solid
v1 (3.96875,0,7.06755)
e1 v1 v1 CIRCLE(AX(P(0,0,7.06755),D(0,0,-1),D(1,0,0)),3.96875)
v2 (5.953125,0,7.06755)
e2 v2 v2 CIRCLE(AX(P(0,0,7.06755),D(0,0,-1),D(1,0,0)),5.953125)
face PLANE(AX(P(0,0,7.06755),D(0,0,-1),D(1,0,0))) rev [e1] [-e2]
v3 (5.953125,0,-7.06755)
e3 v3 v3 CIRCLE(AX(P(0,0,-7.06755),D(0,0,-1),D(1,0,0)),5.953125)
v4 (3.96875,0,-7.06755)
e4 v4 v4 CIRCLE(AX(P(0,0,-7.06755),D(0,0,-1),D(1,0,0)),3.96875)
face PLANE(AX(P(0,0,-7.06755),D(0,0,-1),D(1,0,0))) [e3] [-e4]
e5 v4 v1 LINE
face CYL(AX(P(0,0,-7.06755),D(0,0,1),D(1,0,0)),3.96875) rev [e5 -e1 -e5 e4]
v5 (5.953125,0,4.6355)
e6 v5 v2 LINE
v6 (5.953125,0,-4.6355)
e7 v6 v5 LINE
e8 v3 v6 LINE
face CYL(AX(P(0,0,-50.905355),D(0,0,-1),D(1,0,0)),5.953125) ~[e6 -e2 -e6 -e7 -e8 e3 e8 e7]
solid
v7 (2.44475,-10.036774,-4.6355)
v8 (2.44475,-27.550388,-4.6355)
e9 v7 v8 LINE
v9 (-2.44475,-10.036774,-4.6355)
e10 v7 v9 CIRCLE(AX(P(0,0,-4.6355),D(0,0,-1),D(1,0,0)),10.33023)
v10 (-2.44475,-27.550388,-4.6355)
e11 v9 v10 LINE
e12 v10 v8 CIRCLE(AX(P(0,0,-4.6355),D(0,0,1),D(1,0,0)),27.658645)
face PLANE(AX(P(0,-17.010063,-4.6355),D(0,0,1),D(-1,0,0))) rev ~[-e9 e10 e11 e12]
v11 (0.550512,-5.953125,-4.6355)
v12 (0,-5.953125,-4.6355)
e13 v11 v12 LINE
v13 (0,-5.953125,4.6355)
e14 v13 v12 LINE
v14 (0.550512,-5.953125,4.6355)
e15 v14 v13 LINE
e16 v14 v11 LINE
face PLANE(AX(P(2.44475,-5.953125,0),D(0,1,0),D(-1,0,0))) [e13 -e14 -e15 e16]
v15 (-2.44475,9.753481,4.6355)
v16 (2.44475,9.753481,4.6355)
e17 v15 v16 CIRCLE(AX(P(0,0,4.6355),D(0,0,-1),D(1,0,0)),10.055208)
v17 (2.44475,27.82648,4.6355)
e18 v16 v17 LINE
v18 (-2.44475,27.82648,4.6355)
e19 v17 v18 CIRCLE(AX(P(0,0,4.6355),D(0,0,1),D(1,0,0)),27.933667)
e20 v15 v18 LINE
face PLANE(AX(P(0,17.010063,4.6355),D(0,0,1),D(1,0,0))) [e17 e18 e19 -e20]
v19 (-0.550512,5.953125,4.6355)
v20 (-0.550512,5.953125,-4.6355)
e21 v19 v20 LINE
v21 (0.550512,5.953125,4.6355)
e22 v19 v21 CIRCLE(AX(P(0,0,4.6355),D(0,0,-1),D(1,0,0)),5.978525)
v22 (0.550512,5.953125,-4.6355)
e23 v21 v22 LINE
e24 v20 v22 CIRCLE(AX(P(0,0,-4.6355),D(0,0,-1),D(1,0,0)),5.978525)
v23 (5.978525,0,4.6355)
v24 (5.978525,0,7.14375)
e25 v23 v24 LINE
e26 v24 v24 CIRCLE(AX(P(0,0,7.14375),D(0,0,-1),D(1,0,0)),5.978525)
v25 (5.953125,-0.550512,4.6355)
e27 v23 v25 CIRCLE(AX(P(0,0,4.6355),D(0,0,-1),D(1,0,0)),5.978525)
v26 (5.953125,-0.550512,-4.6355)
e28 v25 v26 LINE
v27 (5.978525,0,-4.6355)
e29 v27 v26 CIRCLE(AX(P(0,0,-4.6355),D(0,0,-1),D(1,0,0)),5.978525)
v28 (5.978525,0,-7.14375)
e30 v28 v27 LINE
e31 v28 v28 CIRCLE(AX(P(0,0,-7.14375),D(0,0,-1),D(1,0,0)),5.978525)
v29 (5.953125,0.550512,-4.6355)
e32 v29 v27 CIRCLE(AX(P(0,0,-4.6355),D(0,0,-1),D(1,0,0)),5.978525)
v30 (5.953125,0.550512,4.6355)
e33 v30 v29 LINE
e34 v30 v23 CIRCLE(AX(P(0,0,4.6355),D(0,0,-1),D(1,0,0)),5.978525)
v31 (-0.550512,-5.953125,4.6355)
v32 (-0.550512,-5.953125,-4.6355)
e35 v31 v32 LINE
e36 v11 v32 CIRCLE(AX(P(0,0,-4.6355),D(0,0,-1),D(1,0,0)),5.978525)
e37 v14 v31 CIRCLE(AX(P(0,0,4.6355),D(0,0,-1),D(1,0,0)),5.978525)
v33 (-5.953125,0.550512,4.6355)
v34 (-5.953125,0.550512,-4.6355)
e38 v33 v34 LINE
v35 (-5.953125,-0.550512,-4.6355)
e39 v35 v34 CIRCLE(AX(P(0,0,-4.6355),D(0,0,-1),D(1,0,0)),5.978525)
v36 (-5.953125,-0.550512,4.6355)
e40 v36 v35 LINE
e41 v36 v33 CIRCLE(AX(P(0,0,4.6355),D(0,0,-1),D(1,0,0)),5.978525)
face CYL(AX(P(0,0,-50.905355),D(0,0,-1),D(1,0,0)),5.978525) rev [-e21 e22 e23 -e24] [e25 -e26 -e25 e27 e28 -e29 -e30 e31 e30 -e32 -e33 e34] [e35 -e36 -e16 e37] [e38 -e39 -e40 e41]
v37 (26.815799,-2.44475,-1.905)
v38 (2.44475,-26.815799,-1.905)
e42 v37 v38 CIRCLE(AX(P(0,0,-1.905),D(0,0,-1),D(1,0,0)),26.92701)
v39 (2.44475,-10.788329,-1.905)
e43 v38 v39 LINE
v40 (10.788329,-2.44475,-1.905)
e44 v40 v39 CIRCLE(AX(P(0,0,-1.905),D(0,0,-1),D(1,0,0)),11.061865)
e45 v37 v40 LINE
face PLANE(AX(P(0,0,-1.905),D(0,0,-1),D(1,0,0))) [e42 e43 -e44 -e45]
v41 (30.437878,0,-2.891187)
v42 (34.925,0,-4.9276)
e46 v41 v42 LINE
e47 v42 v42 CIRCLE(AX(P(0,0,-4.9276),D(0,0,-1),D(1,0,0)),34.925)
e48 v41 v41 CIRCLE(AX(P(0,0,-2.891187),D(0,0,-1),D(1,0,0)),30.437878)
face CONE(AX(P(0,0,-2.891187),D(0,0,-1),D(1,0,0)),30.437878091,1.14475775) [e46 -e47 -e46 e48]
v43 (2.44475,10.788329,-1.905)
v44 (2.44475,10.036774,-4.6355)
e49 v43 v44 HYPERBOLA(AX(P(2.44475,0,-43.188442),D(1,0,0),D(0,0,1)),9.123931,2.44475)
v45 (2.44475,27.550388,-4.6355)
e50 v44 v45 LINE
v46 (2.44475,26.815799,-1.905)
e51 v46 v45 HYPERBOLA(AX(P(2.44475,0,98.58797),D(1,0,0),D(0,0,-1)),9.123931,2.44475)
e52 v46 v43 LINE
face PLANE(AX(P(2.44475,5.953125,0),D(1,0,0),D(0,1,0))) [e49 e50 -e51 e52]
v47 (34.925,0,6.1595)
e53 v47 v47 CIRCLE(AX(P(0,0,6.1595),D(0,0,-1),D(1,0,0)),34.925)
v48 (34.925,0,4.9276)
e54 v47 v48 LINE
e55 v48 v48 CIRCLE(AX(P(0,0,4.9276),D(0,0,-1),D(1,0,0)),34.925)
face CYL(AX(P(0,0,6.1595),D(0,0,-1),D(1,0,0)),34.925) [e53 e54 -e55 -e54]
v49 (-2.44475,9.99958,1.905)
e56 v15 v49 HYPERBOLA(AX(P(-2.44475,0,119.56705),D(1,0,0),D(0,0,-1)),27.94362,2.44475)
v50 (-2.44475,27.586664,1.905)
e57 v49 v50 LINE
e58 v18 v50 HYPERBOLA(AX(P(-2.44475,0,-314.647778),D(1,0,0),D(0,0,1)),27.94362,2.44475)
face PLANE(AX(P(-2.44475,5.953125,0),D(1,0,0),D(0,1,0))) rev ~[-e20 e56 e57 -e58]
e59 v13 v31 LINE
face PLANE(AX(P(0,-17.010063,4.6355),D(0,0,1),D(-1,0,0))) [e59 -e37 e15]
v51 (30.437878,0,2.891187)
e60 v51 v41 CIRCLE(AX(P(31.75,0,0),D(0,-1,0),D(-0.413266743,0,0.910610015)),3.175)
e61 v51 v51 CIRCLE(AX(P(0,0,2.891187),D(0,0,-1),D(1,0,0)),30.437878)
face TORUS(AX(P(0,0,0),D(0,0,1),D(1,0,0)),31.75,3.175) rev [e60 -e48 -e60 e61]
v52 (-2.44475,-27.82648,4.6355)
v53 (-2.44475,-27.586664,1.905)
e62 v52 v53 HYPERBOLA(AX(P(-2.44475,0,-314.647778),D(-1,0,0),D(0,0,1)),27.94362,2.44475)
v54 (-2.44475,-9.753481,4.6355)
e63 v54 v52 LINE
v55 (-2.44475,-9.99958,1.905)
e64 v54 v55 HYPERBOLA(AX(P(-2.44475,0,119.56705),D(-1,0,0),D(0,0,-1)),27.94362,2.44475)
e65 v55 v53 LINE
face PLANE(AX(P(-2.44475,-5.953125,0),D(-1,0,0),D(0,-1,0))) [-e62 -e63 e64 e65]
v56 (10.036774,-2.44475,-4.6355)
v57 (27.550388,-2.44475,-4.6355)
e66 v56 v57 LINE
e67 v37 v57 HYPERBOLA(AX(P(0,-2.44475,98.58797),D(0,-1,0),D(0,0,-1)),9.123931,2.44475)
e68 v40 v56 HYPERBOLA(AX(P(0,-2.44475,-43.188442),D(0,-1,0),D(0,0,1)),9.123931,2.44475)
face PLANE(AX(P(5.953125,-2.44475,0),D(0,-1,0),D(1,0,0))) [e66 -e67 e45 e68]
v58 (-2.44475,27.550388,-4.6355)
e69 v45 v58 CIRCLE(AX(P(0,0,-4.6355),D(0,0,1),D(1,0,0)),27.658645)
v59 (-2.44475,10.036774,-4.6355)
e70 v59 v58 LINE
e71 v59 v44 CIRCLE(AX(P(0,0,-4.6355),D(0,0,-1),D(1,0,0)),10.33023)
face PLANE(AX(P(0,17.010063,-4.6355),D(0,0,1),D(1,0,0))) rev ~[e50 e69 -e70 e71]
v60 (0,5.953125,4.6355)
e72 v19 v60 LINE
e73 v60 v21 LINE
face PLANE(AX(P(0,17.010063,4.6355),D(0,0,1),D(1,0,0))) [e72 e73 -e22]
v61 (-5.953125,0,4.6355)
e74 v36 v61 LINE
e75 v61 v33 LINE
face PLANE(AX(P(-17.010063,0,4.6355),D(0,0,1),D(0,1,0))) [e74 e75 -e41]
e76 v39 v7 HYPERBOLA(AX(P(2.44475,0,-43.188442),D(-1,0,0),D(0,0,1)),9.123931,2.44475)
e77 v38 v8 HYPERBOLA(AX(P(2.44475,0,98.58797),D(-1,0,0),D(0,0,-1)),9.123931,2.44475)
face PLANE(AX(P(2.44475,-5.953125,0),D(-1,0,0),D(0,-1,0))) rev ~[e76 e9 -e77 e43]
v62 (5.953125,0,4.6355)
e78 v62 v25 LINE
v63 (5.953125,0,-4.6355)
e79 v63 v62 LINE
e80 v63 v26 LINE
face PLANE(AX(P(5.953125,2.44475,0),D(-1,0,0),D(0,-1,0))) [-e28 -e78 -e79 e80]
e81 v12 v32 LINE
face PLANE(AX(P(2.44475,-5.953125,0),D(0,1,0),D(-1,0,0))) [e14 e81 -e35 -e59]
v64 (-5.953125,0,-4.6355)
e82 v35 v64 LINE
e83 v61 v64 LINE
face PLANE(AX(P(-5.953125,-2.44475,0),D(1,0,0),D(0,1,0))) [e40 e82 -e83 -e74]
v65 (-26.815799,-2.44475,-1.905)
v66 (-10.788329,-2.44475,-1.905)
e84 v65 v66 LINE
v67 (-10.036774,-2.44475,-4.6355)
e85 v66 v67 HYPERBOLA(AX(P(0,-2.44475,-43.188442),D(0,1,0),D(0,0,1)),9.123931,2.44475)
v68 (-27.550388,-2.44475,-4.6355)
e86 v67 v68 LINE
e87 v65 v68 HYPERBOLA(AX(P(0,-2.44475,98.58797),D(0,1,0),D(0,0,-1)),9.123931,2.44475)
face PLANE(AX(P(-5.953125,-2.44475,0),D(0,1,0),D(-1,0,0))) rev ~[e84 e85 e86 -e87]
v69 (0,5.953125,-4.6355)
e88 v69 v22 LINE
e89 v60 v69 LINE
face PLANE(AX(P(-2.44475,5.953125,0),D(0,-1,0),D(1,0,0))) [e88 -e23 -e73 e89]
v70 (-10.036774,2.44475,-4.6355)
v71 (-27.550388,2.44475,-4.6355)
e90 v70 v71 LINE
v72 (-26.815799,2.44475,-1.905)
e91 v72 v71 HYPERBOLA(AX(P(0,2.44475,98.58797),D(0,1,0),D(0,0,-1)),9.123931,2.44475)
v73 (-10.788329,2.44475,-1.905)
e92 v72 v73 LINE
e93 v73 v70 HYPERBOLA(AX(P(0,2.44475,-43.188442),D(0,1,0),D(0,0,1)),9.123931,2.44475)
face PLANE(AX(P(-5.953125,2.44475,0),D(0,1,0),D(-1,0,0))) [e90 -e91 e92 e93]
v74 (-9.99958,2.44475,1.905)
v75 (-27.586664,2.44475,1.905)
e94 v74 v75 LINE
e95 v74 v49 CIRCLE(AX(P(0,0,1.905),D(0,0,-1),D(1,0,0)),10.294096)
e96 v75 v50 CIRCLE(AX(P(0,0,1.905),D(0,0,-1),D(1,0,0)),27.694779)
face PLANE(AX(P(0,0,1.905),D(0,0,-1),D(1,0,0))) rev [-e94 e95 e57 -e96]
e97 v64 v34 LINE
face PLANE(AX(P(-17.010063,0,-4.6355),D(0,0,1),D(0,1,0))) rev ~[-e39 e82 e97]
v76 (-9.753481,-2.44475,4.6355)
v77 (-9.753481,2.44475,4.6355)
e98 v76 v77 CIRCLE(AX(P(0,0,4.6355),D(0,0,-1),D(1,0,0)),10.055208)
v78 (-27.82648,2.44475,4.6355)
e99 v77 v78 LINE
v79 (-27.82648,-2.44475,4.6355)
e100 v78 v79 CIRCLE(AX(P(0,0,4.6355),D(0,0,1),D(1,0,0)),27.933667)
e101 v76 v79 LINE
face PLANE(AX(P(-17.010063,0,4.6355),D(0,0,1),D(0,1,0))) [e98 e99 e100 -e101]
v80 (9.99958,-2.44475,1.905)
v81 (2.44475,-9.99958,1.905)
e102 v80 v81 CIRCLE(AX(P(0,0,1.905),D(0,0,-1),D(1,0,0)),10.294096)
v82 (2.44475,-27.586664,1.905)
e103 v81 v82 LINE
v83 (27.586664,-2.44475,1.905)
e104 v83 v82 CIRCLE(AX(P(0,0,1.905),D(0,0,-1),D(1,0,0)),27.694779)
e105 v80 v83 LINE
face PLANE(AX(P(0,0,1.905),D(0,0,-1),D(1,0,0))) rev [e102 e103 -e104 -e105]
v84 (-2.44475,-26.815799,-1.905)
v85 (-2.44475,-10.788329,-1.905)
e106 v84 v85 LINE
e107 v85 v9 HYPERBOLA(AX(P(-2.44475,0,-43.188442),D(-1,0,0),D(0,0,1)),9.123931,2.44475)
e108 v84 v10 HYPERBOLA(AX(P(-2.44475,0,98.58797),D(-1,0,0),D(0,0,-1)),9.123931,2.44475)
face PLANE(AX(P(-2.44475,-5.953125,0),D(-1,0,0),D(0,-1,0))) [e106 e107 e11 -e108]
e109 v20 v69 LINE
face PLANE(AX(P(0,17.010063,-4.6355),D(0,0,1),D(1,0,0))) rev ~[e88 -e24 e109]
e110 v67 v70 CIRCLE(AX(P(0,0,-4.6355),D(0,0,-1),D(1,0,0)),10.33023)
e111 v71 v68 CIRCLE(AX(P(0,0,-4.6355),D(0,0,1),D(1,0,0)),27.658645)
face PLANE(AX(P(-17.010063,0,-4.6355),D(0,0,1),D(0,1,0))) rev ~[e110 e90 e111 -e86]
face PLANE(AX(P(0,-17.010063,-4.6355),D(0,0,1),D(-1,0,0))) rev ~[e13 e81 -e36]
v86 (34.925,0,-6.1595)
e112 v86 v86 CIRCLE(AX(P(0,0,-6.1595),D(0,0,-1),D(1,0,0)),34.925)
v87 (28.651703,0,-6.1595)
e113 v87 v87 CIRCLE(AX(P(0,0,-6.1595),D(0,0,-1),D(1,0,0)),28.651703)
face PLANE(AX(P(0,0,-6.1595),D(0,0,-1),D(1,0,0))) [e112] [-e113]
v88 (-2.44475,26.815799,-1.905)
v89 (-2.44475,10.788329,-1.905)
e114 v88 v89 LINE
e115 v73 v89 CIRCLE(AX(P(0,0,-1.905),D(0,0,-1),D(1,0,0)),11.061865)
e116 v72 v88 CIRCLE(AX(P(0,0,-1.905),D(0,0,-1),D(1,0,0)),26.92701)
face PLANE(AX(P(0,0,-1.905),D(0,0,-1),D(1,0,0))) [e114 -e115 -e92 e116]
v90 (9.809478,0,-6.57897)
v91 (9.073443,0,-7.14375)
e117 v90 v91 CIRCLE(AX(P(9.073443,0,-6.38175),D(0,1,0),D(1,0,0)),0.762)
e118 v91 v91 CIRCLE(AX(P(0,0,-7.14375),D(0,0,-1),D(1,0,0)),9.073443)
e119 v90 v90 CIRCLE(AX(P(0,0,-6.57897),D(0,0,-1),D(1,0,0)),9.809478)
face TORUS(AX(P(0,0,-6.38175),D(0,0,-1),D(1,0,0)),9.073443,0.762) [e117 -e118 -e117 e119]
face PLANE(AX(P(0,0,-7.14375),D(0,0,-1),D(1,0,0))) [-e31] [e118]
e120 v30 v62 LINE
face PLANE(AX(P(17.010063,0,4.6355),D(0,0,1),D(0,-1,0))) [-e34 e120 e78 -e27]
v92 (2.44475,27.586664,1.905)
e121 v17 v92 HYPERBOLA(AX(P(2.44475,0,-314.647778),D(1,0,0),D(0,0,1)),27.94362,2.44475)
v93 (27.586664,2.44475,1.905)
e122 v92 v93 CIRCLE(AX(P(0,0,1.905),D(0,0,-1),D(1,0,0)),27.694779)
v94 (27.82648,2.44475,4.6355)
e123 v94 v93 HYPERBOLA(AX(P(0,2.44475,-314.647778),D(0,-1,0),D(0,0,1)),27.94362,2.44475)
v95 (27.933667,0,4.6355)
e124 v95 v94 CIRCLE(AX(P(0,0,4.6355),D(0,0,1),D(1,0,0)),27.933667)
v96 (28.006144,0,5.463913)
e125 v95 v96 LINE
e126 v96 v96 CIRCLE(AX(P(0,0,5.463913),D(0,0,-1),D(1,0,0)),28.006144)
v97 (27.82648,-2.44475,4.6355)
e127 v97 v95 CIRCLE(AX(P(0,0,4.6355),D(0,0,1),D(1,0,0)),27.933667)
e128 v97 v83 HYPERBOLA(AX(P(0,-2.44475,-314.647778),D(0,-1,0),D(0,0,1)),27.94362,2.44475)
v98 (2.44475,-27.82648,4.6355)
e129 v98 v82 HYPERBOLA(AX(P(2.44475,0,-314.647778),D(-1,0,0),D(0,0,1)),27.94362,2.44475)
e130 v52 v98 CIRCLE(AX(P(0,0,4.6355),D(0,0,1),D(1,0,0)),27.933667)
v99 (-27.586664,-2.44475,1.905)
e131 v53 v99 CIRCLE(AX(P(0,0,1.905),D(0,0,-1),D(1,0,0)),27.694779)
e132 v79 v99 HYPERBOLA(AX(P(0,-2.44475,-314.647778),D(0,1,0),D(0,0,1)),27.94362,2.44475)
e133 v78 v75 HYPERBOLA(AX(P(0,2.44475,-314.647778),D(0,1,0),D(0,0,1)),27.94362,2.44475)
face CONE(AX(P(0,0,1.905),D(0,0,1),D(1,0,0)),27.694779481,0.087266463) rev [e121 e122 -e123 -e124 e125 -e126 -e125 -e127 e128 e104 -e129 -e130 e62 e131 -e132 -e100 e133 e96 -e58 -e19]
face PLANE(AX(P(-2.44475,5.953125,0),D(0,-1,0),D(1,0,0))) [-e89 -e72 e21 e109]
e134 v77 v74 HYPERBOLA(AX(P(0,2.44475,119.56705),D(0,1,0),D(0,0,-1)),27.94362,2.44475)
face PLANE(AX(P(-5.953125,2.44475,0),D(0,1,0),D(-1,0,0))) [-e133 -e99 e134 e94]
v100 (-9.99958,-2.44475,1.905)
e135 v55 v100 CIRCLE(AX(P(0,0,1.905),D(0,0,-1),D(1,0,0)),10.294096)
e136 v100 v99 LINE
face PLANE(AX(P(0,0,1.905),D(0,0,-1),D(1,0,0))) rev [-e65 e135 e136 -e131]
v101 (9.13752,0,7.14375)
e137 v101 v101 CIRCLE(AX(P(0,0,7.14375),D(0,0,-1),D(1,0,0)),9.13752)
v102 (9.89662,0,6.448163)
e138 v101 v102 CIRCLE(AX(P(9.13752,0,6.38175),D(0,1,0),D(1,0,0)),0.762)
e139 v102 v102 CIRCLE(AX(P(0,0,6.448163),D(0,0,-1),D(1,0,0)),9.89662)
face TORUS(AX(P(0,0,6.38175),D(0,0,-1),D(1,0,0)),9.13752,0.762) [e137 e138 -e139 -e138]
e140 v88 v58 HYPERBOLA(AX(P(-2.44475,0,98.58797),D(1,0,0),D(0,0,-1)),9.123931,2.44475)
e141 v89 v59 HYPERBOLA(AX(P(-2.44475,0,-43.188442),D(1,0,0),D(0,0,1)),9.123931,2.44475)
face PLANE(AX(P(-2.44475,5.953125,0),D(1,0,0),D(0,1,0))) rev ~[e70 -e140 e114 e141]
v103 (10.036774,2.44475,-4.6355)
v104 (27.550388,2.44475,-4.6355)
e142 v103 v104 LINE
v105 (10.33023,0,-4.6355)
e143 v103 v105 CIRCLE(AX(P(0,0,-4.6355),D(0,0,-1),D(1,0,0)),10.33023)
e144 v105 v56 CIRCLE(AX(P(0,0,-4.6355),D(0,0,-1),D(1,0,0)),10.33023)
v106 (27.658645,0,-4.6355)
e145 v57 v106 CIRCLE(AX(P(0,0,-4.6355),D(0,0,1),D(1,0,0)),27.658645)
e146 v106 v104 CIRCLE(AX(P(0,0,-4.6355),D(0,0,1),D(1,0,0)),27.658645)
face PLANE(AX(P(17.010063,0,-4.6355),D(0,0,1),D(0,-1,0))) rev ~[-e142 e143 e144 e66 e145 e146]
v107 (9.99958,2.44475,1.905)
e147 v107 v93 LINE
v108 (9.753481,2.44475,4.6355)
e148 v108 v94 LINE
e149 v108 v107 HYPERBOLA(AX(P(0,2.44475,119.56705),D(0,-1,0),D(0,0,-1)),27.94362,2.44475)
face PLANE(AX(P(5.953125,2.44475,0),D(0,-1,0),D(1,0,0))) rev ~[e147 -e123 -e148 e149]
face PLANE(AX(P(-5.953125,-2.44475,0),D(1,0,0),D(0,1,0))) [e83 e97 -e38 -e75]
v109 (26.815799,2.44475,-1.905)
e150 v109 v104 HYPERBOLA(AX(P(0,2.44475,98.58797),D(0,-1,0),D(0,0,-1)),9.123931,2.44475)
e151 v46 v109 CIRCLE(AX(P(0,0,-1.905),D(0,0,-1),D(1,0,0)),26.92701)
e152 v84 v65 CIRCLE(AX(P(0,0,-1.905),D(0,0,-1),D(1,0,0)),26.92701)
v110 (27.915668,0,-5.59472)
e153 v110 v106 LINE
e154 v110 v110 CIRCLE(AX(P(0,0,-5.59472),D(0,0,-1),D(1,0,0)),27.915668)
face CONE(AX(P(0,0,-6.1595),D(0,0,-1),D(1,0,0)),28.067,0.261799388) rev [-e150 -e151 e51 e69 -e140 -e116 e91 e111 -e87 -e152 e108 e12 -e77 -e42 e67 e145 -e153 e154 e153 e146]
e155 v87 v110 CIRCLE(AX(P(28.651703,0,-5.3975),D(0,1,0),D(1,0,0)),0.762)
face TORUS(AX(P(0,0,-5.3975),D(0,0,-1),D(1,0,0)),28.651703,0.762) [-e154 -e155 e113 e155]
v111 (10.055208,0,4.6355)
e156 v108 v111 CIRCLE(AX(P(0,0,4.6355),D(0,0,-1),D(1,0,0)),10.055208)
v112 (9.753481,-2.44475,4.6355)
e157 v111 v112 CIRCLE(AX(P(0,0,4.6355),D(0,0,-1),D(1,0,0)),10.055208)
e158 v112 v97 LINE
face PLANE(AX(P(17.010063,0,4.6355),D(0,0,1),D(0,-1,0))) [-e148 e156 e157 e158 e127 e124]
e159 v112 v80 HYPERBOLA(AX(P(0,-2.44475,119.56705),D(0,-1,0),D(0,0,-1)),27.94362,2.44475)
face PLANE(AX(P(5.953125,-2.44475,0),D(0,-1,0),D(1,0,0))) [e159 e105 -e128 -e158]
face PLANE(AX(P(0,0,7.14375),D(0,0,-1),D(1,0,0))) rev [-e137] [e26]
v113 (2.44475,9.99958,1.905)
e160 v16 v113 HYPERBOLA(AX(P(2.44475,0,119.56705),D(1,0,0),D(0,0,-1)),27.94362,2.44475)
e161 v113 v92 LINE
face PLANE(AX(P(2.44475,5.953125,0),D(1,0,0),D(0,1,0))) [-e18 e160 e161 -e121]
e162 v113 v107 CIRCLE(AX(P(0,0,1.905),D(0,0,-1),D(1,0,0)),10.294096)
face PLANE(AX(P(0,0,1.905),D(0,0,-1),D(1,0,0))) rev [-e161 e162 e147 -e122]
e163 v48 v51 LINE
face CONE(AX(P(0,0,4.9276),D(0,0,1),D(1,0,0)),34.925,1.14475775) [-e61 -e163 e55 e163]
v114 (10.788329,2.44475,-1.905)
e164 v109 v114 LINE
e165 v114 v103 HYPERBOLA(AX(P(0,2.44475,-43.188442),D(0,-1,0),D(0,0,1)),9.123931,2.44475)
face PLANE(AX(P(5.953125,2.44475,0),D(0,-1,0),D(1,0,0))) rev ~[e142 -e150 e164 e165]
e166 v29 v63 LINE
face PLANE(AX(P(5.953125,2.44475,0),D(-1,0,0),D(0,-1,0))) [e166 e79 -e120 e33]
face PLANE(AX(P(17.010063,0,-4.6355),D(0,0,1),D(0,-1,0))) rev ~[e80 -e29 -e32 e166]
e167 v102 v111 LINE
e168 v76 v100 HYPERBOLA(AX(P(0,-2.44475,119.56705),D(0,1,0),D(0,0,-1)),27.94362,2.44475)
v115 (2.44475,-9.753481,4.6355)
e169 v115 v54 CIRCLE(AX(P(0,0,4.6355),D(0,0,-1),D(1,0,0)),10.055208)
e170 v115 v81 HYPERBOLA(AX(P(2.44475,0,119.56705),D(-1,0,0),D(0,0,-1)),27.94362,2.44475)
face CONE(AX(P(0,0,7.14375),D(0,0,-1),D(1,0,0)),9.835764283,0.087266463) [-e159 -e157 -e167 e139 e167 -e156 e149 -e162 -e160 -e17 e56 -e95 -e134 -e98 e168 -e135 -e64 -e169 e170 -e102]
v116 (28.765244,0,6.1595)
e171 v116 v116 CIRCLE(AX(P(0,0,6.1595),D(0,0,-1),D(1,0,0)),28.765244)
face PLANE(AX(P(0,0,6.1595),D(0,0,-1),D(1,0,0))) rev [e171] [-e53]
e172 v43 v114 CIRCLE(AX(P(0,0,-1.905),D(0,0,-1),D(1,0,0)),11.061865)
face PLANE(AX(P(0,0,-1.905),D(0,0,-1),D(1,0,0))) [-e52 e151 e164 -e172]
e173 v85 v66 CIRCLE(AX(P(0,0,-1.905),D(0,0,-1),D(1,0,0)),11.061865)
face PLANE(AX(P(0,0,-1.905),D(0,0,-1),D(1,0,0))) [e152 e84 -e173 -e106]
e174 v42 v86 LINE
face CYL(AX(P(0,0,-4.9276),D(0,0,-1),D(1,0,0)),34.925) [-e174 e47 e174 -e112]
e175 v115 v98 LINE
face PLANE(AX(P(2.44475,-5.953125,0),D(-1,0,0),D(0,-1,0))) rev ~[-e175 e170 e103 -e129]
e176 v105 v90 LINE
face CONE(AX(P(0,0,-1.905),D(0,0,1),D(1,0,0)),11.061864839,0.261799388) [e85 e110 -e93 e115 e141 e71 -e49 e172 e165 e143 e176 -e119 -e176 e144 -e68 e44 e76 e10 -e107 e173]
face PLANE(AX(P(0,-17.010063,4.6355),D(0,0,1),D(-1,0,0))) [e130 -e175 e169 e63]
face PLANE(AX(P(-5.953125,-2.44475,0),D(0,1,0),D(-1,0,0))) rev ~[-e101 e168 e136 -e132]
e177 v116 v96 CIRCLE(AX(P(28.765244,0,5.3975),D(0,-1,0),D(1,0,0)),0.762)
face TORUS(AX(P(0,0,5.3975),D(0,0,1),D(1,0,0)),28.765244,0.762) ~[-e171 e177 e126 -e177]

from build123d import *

# Parameters (mm, degrees)
CUT_EXTRUDE_THIN1_DEPTH      = 50.905354563
CUT_EXTRUDE_THIN1_DEPTH_BACK = 50.905354563
SKETCH2_R                    = 5.978525
SKETCH2_R_2                  = 5.953125
DRAFT1_ANGLE                 = 5
DRAFT2_ANGLE                 = 15
FILLET1_R                    = 0.762
SKETCH4_W                    = 4.8895
SKETCH4_H                    = 22.113875
EXTRUDE_THIN1_DEPTH          = 4.6355
CIRPATTERN1_COUNT            = 4


with BuildPart() as part:
    # Sketch1 → Revolve1 (revolve)
    with BuildSketch(Plane(origin=(0, 0, 0), x_dir=(0, 0, -1), z_dir=(1, 0, 0)), mode=Mode.PRIVATE) as revolve1_sk:
        with BuildLine():
            Line((4.9276, 34.925), (6.1595, 34.925))
            Line((6.1595, 34.925), (6.1595, 28.067))
            Line((6.1595, 28.067), (1.905, 28.067))
            Line((1.905, 28.067), (1.905, 9.921875))
            Line((1.905, 9.921875), (7.14375, 9.921875))
            Line((7.14375, 9.921875), (7.14375, 5.953125))
            Line((7.14375, 5.953125), (7.06755, 5.953125))
            Line((7.06755, 5.953125), (7.06755, 3.96875))
            Line((7.06755, 3.96875), (-7.06755, 3.96875))
            Line((-7.06755, 3.96875), (-7.06755, 5.953125))
            Line((-7.06755, 5.953125), (-7.14375, 5.953125))
            Line((-7.14375, 5.953125), (-7.14375, 9.921875))
            Line((-7.14375, 9.921875), (-1.905, 9.921875))
            Line((-1.905, 9.921875), (-1.905, 28.067))
            Line((-1.905, 28.067), (-6.1595, 28.067))
            Line((-6.1595, 28.067), (-6.1595, 34.925))
            Line((-6.1595, 34.925), (-4.9276, 34.925))
            Line((-4.9276, 34.925), (-2.891186797, 30.437878091))
            ThreePointArc((-2.891186797, 30.437878091), (0, 28.575), (2.891186797, 30.437878091))
            Line((2.891186797, 30.437878091), (4.9276, 34.925))
        make_face()
    revolve(revolve1_sk.sketch.rotate(Axis((0, 0, 7.14375), (0, 0, -1)), 90), axis=Axis((0, 0, 7.14375), (0, 0, -1)))

    # Sketch2 → Cut-Extrude-Thin1 (cut, two sides: drawn at the far end of the back side and taken through both)
    with BuildSketch(Plane.XY.offset(-CUT_EXTRUDE_THIN1_DEPTH_BACK)):
        Circle(SKETCH2_R)
        Circle(SKETCH2_R_2, mode=Mode.SUBTRACT)
    extrude(amount=CUT_EXTRUDE_THIN1_DEPTH + CUT_EXTRUDE_THIN1_DEPTH_BACK, mode=Mode.SUBTRACT)


with BuildPart() as cut_extrude_thin1_piece_1:
    # of the separate pieces the step leaves, piece 1, a body of its own (cut_extrude_thin1_pieces)
    add(part.part.solids().sort_by_distance((30.437878091, 0, -2.891186797))[0])

    # Draft1
    draft1_faces = [cut_extrude_thin1_piece_1.faces().sort_by_distance(p)[0] for p in [
        (-9.921875, 0, 4.524375),
        (-28.067, 0, 4.03225),
    ]]
    draft(draft1_faces, Plane(origin=(0, 28.067, 6.1595), x_dir=(1, 0, 0), z_dir=(0, 0, 1)), DRAFT1_ANGLE)

    # Draft2
    draft2_faces = [cut_extrude_thin1_piece_1.faces().sort_by_distance(p)[0] for p in [
        (-9.921875, 0, -4.524375),
        (-28.067, 0, -4.03225),
    ]]
    draft(draft2_faces, Plane(origin=(0, 34.925, -6.1595), x_dir=(-1, 0, 0), z_dir=(0, 0, -1)), DRAFT2_ANGLE)

    # Fillet1
    fillet1_edges = [cut_extrude_thin1_piece_1.edges().sort_by_distance(p)[0] for p in [
        (-28.067, 0, 6.1595),
        (-9.835764283, 0, 7.14375),
        (-9.658146007, 0, -7.14375),
        (-28.067, 0, -6.1595),
    ]]
    fillet(fillet1_edges, radius=FILLET1_R)



with BuildPart() as cut_extrude_thin1_piece_2:
    # of the separate pieces the step leaves, piece 2, a body of its own (cut_extrude_thin1_pieces)
    add(part.part.solids().sort_by_distance((5.953125, 0, -7.06755))[0])


with BuildPart() as cut_extrude_thin1_piece_1_1:
    add(cut_extrude_thin1_piece_1.part)

    add(cut_extrude_thin1_piece_2.part)  # Extrude-Thin1 merges Cut-Extrude-Thin1 piece 2
    # Sketch4 → Extrude-Thin1 (add, symmetric)
    with BuildSketch(Plane.XY):
        with Locations((0, 17.0100625)):
            Rectangle(SKETCH4_W, SKETCH4_H)
    extrude_thin1 = extrude(amount=EXTRUDE_THIN1_DEPTH, both=True)

    # CirPattern1: Extrude-Thin1 ×4 about axis
    cirpattern1_axis = Axis((0, 0, 0), (0, 0, 1))
    for i in range(1, CIRPATTERN1_COUNT):
        add(extrude_thin1.rotate(cirpattern1_axis, i * 360 / CIRPATTERN1_COUNT))


solid = cut_extrude_thin1_piece_1_1.part
